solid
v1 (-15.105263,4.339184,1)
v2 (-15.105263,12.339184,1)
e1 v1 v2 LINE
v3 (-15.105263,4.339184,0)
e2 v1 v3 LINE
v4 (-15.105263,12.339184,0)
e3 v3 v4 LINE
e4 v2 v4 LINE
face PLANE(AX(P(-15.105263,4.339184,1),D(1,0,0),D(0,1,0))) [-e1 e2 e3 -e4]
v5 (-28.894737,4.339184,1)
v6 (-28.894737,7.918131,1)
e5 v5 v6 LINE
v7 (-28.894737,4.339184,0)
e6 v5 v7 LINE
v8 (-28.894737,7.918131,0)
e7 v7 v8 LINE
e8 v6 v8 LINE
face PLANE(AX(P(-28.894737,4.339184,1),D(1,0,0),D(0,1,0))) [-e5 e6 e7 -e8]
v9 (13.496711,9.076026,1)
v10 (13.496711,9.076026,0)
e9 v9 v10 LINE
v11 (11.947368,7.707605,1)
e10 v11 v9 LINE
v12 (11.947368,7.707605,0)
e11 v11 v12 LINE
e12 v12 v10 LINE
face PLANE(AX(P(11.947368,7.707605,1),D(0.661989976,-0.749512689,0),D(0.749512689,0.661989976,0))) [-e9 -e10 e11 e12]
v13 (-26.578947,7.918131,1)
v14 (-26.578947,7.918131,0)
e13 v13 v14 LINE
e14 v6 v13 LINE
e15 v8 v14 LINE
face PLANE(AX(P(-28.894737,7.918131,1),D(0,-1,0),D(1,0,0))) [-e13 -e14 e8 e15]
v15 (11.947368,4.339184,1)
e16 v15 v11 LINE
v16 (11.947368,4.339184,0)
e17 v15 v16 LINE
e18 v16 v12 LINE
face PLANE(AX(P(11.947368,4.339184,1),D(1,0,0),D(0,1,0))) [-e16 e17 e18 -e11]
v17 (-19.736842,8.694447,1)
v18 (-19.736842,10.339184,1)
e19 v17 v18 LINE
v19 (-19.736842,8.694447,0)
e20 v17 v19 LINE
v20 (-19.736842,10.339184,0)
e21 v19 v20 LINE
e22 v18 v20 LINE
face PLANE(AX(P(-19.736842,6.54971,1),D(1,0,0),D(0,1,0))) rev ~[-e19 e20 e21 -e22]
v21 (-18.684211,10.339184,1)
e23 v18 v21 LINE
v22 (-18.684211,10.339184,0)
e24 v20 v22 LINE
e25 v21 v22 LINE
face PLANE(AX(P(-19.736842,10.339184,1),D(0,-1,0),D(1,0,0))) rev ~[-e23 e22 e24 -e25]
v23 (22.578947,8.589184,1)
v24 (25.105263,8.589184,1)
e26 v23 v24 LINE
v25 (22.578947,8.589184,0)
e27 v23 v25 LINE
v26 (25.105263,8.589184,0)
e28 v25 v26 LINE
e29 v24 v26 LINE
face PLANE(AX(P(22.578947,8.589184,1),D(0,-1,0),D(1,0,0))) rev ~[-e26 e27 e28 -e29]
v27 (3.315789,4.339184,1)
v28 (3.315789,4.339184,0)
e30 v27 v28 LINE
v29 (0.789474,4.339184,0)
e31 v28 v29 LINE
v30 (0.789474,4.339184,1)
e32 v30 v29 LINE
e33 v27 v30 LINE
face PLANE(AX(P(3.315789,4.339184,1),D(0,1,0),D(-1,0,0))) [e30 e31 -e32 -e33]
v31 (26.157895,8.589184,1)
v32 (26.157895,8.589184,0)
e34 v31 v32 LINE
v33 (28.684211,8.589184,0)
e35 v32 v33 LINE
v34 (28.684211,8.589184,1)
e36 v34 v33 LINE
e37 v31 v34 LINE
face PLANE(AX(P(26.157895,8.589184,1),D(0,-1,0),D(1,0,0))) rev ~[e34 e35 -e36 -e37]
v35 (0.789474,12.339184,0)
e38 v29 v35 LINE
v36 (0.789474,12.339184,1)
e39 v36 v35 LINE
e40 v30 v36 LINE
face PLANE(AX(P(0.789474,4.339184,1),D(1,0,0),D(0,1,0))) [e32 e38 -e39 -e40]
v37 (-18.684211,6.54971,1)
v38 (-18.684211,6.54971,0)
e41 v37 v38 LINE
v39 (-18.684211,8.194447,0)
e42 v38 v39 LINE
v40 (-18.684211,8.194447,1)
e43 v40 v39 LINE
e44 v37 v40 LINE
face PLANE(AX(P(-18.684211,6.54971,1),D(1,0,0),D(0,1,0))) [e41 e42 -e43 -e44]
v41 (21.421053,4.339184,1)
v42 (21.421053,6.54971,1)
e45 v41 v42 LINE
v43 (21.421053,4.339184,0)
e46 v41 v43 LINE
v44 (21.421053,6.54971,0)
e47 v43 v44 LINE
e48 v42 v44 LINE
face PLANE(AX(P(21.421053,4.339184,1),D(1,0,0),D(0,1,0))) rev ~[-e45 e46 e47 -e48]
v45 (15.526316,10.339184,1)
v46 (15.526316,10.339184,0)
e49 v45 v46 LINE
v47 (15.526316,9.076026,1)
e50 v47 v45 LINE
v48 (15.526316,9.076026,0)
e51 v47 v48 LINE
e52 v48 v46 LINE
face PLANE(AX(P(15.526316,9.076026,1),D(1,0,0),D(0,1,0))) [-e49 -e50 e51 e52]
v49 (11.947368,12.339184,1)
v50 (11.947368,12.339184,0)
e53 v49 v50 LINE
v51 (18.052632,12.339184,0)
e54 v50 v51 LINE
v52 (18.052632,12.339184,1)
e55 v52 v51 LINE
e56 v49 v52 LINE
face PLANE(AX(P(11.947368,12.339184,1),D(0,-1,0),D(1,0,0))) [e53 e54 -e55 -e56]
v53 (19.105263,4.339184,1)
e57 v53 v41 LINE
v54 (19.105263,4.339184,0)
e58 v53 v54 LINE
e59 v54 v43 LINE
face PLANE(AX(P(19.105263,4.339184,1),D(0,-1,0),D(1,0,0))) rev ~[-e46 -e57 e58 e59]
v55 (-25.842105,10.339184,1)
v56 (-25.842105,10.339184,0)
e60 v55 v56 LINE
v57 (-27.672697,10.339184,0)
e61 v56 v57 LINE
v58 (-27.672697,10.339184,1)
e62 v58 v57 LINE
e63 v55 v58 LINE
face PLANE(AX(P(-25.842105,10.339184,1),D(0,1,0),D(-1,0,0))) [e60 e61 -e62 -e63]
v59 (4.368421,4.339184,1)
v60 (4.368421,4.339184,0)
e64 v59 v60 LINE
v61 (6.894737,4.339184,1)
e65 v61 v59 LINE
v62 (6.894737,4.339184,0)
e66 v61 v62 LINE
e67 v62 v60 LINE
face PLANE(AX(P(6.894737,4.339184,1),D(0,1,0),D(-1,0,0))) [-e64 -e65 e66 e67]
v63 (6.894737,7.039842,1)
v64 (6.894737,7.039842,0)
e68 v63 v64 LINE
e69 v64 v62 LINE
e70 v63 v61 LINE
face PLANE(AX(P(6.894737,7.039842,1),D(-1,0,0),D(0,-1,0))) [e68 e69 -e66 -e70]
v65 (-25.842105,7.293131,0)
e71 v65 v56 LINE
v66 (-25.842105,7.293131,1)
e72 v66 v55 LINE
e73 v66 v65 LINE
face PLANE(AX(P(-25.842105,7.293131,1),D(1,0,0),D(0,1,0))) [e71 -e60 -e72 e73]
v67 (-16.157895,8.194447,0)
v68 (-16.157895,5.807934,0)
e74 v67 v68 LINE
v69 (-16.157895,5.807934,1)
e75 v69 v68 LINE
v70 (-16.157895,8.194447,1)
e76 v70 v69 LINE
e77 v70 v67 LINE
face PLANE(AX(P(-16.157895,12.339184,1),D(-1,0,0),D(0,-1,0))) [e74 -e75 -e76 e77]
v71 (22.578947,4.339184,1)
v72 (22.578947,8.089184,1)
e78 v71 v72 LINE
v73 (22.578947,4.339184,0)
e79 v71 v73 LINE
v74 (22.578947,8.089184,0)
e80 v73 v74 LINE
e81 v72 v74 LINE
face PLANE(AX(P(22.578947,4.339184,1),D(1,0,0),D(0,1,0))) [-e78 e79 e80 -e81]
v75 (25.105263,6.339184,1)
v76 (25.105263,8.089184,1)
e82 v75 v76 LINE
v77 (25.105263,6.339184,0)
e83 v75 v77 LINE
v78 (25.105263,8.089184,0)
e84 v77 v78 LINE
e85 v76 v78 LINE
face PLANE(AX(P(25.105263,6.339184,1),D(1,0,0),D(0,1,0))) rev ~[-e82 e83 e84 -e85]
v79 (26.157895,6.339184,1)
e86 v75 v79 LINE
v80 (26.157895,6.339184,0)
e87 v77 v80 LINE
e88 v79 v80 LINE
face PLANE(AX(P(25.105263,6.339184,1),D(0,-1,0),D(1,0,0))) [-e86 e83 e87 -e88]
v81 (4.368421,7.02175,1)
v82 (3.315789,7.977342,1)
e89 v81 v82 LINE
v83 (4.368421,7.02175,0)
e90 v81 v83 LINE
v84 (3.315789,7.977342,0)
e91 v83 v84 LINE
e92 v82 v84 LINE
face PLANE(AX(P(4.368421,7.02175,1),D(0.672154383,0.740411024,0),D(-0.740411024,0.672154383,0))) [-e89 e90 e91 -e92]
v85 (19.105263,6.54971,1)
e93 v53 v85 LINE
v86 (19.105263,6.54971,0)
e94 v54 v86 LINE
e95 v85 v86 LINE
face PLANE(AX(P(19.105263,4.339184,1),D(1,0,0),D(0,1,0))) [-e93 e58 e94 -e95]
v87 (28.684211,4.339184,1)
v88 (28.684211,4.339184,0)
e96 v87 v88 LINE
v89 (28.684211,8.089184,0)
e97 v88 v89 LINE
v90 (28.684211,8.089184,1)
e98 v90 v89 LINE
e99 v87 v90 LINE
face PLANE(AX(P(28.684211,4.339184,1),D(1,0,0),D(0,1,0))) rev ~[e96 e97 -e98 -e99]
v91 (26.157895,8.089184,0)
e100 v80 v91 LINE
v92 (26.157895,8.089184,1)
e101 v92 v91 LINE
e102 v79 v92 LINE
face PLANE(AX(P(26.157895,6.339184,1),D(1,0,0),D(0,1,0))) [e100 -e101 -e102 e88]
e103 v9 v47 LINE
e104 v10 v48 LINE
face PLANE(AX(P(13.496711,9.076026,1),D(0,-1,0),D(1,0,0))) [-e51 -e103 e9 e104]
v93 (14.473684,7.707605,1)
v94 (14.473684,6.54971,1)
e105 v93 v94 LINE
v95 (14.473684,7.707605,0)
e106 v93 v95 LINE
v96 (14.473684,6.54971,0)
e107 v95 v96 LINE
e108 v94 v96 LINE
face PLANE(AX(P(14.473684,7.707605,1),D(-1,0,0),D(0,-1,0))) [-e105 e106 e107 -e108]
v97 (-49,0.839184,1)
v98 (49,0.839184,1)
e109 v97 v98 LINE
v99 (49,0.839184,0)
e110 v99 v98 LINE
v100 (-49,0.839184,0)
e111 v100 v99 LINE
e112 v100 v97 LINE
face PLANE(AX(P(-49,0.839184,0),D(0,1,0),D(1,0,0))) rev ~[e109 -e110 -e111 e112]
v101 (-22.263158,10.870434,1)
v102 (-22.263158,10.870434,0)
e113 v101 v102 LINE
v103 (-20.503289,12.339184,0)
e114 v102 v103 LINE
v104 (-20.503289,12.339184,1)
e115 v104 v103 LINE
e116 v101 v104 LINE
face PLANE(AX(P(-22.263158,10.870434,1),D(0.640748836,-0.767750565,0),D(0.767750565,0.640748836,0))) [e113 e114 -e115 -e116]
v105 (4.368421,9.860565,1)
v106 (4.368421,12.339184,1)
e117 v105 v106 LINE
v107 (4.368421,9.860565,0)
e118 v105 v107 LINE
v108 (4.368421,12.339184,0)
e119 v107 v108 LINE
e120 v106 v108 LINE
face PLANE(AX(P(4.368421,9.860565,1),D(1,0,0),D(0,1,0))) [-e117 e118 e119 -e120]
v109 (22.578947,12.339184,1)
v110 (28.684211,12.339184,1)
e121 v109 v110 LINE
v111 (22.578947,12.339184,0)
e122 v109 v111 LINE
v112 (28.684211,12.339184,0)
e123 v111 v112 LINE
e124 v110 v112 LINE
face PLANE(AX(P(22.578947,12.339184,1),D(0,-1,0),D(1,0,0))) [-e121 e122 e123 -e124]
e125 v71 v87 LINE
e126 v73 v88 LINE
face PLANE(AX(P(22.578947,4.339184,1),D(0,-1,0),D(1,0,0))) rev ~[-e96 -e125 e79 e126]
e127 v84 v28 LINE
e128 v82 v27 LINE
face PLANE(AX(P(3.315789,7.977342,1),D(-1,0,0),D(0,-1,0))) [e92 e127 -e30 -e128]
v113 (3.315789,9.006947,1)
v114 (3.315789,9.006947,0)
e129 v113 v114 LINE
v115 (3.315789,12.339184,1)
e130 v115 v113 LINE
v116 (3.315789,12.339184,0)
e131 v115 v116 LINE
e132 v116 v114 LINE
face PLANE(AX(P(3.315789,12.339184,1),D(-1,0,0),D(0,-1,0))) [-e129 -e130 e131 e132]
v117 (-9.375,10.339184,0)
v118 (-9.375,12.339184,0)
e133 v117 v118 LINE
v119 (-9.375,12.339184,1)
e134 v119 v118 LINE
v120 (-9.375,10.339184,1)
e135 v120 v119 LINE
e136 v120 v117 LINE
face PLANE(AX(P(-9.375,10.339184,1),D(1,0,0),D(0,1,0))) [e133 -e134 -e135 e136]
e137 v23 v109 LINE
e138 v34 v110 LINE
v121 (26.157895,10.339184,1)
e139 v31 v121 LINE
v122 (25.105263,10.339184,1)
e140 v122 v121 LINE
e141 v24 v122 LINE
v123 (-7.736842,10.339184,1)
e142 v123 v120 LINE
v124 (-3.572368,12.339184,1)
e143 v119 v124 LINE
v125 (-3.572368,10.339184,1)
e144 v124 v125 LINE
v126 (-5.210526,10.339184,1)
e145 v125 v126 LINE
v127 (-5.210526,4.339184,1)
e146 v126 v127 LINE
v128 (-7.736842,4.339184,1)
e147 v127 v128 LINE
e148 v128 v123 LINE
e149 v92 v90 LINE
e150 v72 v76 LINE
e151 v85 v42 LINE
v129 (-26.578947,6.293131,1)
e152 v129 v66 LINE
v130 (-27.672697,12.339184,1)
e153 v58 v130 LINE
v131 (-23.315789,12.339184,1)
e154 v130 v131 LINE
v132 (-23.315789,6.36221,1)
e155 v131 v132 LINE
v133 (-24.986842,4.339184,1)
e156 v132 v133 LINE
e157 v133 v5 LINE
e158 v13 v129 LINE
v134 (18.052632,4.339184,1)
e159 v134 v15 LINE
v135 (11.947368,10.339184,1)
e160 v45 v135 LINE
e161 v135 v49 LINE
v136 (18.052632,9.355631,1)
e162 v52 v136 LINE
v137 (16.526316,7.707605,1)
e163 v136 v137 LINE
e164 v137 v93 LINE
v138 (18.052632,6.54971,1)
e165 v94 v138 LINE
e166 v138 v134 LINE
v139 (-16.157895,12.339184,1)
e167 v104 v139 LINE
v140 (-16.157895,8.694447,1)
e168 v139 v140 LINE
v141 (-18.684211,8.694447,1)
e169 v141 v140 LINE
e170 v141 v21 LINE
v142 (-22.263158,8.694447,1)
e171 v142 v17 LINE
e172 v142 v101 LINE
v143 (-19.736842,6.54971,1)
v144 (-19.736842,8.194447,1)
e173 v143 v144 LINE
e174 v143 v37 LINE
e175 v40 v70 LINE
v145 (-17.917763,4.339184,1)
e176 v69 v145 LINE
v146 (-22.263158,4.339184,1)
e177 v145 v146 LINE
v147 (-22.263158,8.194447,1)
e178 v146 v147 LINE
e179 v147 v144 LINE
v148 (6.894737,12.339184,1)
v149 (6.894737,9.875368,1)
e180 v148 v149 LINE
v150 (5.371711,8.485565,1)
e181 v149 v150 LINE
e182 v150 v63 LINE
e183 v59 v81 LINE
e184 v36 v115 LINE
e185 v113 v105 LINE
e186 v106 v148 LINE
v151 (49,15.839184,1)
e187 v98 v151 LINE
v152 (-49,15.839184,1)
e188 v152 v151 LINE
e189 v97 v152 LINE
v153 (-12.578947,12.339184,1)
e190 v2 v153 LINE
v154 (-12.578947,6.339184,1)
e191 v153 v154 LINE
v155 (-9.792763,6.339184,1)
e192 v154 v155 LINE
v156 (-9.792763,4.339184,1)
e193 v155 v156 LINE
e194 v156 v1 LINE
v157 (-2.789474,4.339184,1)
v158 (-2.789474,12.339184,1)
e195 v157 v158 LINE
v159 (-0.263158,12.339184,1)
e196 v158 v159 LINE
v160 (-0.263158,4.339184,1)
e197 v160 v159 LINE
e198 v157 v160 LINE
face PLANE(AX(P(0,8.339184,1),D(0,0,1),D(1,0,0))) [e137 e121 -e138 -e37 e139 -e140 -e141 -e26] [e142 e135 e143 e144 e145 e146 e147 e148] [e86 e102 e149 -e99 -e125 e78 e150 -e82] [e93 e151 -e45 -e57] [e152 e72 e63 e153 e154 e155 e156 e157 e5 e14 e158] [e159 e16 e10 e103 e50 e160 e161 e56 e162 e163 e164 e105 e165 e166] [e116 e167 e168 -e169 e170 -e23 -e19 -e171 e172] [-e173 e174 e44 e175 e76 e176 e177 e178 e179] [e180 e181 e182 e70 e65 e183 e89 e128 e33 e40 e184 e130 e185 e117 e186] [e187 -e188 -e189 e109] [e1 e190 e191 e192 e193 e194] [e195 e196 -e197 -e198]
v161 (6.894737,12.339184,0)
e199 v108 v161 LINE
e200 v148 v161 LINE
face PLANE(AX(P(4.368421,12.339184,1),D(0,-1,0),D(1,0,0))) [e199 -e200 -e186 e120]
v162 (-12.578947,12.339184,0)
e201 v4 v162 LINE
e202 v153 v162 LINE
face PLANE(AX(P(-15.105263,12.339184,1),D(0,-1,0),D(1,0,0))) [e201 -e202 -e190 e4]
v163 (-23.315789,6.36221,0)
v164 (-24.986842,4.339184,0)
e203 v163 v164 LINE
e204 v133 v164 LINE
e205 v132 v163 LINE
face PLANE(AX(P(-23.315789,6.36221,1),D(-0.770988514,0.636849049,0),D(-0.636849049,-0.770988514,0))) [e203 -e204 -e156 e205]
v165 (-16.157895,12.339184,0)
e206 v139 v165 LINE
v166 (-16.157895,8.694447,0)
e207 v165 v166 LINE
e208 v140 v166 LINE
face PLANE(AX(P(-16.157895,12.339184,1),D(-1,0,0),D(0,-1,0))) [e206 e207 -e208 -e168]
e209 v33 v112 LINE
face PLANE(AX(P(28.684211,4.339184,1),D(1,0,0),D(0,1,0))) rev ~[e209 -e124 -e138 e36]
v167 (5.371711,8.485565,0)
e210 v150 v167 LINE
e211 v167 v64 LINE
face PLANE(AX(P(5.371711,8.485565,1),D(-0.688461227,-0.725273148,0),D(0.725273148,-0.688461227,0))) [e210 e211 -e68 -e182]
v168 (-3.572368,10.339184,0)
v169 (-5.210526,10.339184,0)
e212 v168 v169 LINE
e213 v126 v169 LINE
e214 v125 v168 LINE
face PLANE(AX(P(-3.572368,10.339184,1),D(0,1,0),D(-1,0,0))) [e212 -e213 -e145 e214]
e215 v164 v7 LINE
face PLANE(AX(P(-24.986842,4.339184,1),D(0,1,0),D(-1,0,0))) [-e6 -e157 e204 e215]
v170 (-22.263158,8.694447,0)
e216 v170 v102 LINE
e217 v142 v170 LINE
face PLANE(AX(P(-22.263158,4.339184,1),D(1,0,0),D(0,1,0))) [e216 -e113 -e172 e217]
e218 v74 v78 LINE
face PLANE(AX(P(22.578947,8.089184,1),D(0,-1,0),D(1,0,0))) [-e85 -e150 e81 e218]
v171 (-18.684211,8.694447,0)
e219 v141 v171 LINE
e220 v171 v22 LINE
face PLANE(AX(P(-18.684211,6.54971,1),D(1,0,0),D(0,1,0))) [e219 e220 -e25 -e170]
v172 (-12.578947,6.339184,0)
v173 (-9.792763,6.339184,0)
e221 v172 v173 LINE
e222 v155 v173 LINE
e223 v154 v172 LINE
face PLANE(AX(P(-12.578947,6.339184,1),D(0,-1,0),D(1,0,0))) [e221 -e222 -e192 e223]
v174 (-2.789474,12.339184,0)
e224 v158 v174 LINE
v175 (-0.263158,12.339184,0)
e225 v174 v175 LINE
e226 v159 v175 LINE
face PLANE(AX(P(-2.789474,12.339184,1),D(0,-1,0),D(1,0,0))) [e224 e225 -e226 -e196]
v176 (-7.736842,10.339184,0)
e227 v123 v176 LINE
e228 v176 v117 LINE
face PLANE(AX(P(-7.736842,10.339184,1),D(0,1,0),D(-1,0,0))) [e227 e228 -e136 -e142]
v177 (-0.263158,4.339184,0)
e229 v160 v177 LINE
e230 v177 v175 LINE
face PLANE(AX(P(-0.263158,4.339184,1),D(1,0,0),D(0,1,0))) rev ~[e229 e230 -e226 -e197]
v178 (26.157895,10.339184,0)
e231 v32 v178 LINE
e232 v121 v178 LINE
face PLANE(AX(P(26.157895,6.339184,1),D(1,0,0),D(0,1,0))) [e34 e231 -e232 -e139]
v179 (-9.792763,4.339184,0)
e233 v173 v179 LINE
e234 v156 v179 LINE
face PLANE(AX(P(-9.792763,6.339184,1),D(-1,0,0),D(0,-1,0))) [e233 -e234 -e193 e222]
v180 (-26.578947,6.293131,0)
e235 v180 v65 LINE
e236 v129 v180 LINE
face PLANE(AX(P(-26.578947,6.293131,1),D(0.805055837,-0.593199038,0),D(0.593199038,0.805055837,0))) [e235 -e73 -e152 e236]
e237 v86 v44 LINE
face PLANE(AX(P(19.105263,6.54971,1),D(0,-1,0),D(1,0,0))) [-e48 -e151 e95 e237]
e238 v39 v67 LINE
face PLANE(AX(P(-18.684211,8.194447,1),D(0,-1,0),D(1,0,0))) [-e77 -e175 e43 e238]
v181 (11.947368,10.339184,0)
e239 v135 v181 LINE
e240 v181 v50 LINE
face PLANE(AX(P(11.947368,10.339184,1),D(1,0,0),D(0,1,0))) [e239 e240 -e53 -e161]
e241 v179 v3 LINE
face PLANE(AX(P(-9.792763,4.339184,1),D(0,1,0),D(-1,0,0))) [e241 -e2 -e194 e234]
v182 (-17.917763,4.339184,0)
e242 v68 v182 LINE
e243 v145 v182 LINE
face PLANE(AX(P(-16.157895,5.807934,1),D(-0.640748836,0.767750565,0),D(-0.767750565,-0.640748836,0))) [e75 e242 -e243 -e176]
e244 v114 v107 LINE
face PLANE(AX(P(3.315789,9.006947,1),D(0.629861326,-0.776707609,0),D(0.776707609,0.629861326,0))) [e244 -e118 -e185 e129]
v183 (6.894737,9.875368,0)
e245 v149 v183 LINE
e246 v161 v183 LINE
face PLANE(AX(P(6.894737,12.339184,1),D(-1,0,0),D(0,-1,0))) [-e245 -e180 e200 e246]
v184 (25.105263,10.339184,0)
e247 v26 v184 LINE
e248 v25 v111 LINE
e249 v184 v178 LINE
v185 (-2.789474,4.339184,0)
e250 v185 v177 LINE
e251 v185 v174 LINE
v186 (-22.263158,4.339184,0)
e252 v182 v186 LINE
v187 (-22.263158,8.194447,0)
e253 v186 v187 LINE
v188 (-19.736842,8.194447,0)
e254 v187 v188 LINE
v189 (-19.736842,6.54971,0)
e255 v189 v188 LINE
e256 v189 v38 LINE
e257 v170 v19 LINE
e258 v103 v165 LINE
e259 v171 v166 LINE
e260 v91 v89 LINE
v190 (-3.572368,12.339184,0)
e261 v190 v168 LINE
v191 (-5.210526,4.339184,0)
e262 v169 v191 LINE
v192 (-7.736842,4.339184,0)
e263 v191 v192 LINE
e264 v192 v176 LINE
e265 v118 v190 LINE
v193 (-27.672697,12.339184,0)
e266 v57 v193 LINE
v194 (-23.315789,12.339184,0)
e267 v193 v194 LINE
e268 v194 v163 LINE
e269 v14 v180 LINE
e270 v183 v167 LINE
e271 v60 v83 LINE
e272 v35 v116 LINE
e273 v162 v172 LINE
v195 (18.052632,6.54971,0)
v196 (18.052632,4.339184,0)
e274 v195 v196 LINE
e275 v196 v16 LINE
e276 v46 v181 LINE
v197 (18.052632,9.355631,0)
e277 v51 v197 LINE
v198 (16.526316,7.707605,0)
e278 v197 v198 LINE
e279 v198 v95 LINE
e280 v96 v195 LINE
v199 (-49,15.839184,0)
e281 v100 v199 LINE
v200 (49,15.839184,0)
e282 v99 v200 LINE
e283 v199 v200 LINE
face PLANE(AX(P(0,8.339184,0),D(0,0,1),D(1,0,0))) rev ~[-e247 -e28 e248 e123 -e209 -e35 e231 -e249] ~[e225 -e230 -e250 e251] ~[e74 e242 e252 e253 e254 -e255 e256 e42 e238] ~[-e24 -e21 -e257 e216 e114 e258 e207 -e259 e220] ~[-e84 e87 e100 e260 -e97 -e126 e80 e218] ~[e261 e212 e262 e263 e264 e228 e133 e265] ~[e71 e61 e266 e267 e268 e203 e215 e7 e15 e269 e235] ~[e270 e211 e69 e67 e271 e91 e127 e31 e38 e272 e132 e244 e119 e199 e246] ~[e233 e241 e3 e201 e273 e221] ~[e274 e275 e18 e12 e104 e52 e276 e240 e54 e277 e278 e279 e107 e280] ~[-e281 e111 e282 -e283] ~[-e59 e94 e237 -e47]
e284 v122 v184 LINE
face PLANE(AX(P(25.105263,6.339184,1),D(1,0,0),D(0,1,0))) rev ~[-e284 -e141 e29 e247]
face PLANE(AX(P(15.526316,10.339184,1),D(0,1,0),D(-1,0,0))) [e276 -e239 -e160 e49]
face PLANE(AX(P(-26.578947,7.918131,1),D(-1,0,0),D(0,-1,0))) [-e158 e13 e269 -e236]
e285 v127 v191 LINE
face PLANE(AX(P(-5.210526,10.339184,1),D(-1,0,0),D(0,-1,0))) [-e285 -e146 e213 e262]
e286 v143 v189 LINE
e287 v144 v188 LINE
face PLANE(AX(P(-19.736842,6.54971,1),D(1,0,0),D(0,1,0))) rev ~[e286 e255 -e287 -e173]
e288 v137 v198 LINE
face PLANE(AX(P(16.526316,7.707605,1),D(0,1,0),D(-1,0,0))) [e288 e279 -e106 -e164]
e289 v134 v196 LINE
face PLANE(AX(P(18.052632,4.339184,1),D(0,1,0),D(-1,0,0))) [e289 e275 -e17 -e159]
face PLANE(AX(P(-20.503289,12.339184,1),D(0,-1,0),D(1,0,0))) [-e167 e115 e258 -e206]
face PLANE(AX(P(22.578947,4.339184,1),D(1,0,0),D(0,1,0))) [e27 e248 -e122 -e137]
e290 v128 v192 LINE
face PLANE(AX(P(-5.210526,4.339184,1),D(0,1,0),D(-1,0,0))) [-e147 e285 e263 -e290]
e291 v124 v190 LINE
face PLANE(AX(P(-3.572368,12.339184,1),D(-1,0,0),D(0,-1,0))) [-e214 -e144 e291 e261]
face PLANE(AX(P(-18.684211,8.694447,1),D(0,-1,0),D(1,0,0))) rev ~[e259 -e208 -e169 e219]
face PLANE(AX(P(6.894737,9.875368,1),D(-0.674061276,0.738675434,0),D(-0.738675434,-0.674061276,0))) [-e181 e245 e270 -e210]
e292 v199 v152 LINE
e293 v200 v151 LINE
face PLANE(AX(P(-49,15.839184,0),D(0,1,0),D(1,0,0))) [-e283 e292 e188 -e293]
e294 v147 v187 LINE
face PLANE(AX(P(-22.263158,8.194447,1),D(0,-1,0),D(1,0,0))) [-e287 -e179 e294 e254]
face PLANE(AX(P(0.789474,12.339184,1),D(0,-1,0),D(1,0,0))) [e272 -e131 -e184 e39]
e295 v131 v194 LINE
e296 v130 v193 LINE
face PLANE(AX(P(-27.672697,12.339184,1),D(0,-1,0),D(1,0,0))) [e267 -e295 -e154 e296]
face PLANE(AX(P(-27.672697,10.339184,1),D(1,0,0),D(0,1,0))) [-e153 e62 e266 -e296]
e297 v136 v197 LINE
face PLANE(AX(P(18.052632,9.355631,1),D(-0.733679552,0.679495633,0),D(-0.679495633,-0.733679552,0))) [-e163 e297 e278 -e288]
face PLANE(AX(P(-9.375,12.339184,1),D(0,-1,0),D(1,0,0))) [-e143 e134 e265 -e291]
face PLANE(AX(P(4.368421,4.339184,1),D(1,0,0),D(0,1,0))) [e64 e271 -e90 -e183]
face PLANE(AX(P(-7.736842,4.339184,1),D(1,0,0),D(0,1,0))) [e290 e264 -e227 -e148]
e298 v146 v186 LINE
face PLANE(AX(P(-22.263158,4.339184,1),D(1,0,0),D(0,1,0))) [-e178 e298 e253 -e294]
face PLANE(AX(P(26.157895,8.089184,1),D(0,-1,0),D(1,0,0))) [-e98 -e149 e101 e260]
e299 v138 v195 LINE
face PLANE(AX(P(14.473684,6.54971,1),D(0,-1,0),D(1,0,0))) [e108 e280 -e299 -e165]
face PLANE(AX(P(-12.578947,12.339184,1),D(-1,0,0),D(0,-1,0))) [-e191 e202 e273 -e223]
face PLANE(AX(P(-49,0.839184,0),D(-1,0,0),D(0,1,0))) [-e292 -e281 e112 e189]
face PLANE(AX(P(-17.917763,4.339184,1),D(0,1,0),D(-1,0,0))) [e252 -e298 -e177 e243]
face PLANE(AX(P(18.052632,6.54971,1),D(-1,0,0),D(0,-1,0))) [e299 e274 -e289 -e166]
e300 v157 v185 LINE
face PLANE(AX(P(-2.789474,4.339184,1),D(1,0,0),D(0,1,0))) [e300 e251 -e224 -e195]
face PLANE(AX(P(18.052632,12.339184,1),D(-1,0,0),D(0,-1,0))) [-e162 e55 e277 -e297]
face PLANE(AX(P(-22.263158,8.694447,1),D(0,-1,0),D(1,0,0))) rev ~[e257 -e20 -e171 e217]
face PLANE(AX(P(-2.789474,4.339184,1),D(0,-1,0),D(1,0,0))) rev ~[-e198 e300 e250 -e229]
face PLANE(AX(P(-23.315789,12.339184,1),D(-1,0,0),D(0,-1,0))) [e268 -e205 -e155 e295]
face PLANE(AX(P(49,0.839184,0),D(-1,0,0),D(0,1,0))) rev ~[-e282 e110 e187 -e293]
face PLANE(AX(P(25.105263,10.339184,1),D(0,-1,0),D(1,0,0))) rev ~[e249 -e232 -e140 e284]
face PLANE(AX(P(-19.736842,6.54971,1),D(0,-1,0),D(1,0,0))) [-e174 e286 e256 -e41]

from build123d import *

# Parameters (mm, degrees)
SKETCH1_W           = 98
SKETCH1_H           = 15
BOSS_EXTRUDE1_DEPTH = 1
SKETCH2_W           = 1.052631579
SKETCH2_H           = 3.789473684
SKETCH2_W_2         = 2.526315789
SKETCH2_H_2         = 8
SKETCH2_W_3         = 2.315789474
SKETCH2_H_3         = 2.210526316
SKETCH2_W_4         = 6.105263158
SKETCH2_H_4         = 4
CUT_EXTRUDE1_DEPTH  = 10
SKETCH3_W           = 2.52631579
SKETCH3_H           = 0.5
SKETCH3_W_2         = 2.526315789
BOSS_EXTRUDE2_DEPTH = 1


with BuildPart() as part:
    # Sketch1 → Boss-Extrude1 (new body)
    with BuildSketch(Plane.XY):
        with Locations((0, 8.339183832)):
            Rectangle(SKETCH1_W, SKETCH1_H)
    extrude(amount=BOSS_EXTRUDE1_DEPTH)

    # Sketch2 → Cut-Extrude1 (cut)
    # profile 1 of 9: a face of its own
    with BuildSketch(Plane.XY.offset(1)):
        Polygon((-28.894736842, 4.339183832), (-28.894736842, 7.9181312), (-26.578947368, 7.9181312), (-26.578947368, 6.2931312), (-25.842105263, 7.2931312), (-25.842105263, 10.339183832), (-27.672697368, 10.339183832), (-27.672697368, 12.339183832), (-23.315789474, 12.339183832), (-23.315789474, 6.362210148), (-24.986842105, 4.339183832), align=None)
    # profile 2 of 9: a face of its own
    with BuildSketch(Plane.XY.offset(1)):
        Polygon((-22.263157895, 4.339183832), (-22.263157895, 10.870433832), (-20.503289474, 12.339183832), (-16.157894737, 12.339183832), (-16.157894737, 5.807933832), (-17.917763158, 4.339183832), align=None)
        with Locations((-19.210526316, 8.44444699)):
            Rectangle(SKETCH2_W, SKETCH2_H, mode=Mode.SUBTRACT)
    # profile 3 of 9: a face of its own
    with BuildSketch(Plane.XY.offset(1)):
        Polygon((-15.105263158, 4.339183832), (-15.105263158, 12.339183832), (-12.578947368, 12.339183832), (-12.578947368, 6.339183832), (-9.792763158, 6.339183832), (-9.792763158, 4.339183832), align=None)
    # profile 4 of 9: a face of its own
    with BuildSketch(Plane.XY.offset(1)):
        Polygon((-7.736842105, 4.339183832), (-7.736842105, 10.339183832), (-9.375, 10.339183832), (-9.375, 12.339183832), (-3.572368421, 12.339183832), (-3.572368421, 10.339183832), (-5.210526316, 10.339183832), (-5.210526316, 4.339183832), align=None)
    # profile 5 of 9: a face of its own
    with BuildSketch(Plane.XY.offset(1)):
        with Locations((-1.52631579, 8.339183832)):
            Rectangle(SKETCH2_W_2, SKETCH2_H_2)
    # profile 6 of 9: a face of its own
    with BuildSketch(Plane.XY.offset(1)):
        Polygon((4.368421053, 12.339183832), (6.894736842, 12.339183832), (6.894736842, 9.875368043), (5.371710526, 8.485565411), (6.894736842, 7.039841727), (6.894736842, 4.339183832), (4.368421053, 4.339183832), (4.368421053, 7.021749621), (3.315789474, 7.977341727), (3.315789474, 4.339183832), (0.789473684, 4.339183832), (0.789473684, 12.339183832), (3.315789474, 12.339183832), (3.315789474, 9.00694699), (4.368421053, 9.860565411), align=None)
    # profile 7 of 9: a face of its own
    with BuildSketch(Plane.XY.offset(1)):
        Polygon((18.052631579, 4.339183832), (11.947368421, 4.339183832), (11.947368421, 7.707604885), (13.496710526, 9.076025937), (15.526315789, 9.076025937), (15.526315789, 10.339183832), (11.947368421, 10.339183832), (11.947368421, 12.339183832), (18.052631579, 12.339183832), (18.052631579, 9.3556312), (16.526315789, 7.707604885), (14.473684211, 7.707604885), (14.473684211, 6.549710148), (18.052631579, 6.549710148), align=None)
    # profile 8 of 9: a face of its own
    with BuildSketch(Plane.XY.offset(1)):
        with Locations((20.263157895, 5.44444699)):
            Rectangle(SKETCH2_W_3, SKETCH2_H_3)
    # profile 9 of 9: a face of its own
    with BuildSketch(Plane.XY.offset(1)):
        with Locations((25.631578947, 8.339183832)):
            Rectangle(SKETCH2_W_4, SKETCH2_H_2)
        with Locations((25.631578948, 8.339183832)):
            Rectangle(SKETCH2_W, SKETCH2_H_4, mode=Mode.SUBTRACT)
    extrude(amount=-CUT_EXTRUDE1_DEPTH, mode=Mode.SUBTRACT)


with BuildPart() as cut_extrude1_piece_1:
    # of the separate pieces the step leaves, piece 1, a body of its own (cut_extrude1_pieces)
    add(part.part.solids().sort_by_distance((49, 15.839183832, 0))[0])



with BuildPart() as cut_extrude1_piece_2:
    # of the separate pieces the step leaves, piece 2, a body of its own (cut_extrude1_pieces)
    add(part.part.solids().sort_by_distance((26.157894737, 10.339183832, 0))[0])


with BuildPart() as cut_extrude1_piece_3:
    # of the separate pieces the step leaves, piece 3, a body of its own (cut_extrude1_pieces)
    add(part.part.solids().sort_by_distance((-18.684210526, 10.339183832, 0))[0])


with BuildPart() as cut_extrude1_piece_1_1:
    add(cut_extrude1_piece_1.part)

    add(cut_extrude1_piece_2.part)  # Boss-Extrude2 merges Cut-Extrude1 piece 2

    add(cut_extrude1_piece_3.part)  # Boss-Extrude2 merges Cut-Extrude1 piece 3
    # Sketch3 → Boss-Extrude2 (add)
    with BuildSketch(Plane.XY.offset(1)):
        with Locations((-21, 8.44444699)):
            Rectangle(SKETCH3_W, SKETCH3_H)
        with Locations((-17.421052632, 8.44444699)):
            Rectangle(SKETCH3_W_2, SKETCH3_H)
        with Locations((23.842105263, 8.339183832)):
            Rectangle(SKETCH3_W, SKETCH3_H)
        with Locations((27.421052632, 8.339183832)):
            Rectangle(SKETCH3_W_2, SKETCH3_H)
    extrude(amount=-BOSS_EXTRUDE2_DEPTH)


solid = cut_extrude1_piece_1_1.part
